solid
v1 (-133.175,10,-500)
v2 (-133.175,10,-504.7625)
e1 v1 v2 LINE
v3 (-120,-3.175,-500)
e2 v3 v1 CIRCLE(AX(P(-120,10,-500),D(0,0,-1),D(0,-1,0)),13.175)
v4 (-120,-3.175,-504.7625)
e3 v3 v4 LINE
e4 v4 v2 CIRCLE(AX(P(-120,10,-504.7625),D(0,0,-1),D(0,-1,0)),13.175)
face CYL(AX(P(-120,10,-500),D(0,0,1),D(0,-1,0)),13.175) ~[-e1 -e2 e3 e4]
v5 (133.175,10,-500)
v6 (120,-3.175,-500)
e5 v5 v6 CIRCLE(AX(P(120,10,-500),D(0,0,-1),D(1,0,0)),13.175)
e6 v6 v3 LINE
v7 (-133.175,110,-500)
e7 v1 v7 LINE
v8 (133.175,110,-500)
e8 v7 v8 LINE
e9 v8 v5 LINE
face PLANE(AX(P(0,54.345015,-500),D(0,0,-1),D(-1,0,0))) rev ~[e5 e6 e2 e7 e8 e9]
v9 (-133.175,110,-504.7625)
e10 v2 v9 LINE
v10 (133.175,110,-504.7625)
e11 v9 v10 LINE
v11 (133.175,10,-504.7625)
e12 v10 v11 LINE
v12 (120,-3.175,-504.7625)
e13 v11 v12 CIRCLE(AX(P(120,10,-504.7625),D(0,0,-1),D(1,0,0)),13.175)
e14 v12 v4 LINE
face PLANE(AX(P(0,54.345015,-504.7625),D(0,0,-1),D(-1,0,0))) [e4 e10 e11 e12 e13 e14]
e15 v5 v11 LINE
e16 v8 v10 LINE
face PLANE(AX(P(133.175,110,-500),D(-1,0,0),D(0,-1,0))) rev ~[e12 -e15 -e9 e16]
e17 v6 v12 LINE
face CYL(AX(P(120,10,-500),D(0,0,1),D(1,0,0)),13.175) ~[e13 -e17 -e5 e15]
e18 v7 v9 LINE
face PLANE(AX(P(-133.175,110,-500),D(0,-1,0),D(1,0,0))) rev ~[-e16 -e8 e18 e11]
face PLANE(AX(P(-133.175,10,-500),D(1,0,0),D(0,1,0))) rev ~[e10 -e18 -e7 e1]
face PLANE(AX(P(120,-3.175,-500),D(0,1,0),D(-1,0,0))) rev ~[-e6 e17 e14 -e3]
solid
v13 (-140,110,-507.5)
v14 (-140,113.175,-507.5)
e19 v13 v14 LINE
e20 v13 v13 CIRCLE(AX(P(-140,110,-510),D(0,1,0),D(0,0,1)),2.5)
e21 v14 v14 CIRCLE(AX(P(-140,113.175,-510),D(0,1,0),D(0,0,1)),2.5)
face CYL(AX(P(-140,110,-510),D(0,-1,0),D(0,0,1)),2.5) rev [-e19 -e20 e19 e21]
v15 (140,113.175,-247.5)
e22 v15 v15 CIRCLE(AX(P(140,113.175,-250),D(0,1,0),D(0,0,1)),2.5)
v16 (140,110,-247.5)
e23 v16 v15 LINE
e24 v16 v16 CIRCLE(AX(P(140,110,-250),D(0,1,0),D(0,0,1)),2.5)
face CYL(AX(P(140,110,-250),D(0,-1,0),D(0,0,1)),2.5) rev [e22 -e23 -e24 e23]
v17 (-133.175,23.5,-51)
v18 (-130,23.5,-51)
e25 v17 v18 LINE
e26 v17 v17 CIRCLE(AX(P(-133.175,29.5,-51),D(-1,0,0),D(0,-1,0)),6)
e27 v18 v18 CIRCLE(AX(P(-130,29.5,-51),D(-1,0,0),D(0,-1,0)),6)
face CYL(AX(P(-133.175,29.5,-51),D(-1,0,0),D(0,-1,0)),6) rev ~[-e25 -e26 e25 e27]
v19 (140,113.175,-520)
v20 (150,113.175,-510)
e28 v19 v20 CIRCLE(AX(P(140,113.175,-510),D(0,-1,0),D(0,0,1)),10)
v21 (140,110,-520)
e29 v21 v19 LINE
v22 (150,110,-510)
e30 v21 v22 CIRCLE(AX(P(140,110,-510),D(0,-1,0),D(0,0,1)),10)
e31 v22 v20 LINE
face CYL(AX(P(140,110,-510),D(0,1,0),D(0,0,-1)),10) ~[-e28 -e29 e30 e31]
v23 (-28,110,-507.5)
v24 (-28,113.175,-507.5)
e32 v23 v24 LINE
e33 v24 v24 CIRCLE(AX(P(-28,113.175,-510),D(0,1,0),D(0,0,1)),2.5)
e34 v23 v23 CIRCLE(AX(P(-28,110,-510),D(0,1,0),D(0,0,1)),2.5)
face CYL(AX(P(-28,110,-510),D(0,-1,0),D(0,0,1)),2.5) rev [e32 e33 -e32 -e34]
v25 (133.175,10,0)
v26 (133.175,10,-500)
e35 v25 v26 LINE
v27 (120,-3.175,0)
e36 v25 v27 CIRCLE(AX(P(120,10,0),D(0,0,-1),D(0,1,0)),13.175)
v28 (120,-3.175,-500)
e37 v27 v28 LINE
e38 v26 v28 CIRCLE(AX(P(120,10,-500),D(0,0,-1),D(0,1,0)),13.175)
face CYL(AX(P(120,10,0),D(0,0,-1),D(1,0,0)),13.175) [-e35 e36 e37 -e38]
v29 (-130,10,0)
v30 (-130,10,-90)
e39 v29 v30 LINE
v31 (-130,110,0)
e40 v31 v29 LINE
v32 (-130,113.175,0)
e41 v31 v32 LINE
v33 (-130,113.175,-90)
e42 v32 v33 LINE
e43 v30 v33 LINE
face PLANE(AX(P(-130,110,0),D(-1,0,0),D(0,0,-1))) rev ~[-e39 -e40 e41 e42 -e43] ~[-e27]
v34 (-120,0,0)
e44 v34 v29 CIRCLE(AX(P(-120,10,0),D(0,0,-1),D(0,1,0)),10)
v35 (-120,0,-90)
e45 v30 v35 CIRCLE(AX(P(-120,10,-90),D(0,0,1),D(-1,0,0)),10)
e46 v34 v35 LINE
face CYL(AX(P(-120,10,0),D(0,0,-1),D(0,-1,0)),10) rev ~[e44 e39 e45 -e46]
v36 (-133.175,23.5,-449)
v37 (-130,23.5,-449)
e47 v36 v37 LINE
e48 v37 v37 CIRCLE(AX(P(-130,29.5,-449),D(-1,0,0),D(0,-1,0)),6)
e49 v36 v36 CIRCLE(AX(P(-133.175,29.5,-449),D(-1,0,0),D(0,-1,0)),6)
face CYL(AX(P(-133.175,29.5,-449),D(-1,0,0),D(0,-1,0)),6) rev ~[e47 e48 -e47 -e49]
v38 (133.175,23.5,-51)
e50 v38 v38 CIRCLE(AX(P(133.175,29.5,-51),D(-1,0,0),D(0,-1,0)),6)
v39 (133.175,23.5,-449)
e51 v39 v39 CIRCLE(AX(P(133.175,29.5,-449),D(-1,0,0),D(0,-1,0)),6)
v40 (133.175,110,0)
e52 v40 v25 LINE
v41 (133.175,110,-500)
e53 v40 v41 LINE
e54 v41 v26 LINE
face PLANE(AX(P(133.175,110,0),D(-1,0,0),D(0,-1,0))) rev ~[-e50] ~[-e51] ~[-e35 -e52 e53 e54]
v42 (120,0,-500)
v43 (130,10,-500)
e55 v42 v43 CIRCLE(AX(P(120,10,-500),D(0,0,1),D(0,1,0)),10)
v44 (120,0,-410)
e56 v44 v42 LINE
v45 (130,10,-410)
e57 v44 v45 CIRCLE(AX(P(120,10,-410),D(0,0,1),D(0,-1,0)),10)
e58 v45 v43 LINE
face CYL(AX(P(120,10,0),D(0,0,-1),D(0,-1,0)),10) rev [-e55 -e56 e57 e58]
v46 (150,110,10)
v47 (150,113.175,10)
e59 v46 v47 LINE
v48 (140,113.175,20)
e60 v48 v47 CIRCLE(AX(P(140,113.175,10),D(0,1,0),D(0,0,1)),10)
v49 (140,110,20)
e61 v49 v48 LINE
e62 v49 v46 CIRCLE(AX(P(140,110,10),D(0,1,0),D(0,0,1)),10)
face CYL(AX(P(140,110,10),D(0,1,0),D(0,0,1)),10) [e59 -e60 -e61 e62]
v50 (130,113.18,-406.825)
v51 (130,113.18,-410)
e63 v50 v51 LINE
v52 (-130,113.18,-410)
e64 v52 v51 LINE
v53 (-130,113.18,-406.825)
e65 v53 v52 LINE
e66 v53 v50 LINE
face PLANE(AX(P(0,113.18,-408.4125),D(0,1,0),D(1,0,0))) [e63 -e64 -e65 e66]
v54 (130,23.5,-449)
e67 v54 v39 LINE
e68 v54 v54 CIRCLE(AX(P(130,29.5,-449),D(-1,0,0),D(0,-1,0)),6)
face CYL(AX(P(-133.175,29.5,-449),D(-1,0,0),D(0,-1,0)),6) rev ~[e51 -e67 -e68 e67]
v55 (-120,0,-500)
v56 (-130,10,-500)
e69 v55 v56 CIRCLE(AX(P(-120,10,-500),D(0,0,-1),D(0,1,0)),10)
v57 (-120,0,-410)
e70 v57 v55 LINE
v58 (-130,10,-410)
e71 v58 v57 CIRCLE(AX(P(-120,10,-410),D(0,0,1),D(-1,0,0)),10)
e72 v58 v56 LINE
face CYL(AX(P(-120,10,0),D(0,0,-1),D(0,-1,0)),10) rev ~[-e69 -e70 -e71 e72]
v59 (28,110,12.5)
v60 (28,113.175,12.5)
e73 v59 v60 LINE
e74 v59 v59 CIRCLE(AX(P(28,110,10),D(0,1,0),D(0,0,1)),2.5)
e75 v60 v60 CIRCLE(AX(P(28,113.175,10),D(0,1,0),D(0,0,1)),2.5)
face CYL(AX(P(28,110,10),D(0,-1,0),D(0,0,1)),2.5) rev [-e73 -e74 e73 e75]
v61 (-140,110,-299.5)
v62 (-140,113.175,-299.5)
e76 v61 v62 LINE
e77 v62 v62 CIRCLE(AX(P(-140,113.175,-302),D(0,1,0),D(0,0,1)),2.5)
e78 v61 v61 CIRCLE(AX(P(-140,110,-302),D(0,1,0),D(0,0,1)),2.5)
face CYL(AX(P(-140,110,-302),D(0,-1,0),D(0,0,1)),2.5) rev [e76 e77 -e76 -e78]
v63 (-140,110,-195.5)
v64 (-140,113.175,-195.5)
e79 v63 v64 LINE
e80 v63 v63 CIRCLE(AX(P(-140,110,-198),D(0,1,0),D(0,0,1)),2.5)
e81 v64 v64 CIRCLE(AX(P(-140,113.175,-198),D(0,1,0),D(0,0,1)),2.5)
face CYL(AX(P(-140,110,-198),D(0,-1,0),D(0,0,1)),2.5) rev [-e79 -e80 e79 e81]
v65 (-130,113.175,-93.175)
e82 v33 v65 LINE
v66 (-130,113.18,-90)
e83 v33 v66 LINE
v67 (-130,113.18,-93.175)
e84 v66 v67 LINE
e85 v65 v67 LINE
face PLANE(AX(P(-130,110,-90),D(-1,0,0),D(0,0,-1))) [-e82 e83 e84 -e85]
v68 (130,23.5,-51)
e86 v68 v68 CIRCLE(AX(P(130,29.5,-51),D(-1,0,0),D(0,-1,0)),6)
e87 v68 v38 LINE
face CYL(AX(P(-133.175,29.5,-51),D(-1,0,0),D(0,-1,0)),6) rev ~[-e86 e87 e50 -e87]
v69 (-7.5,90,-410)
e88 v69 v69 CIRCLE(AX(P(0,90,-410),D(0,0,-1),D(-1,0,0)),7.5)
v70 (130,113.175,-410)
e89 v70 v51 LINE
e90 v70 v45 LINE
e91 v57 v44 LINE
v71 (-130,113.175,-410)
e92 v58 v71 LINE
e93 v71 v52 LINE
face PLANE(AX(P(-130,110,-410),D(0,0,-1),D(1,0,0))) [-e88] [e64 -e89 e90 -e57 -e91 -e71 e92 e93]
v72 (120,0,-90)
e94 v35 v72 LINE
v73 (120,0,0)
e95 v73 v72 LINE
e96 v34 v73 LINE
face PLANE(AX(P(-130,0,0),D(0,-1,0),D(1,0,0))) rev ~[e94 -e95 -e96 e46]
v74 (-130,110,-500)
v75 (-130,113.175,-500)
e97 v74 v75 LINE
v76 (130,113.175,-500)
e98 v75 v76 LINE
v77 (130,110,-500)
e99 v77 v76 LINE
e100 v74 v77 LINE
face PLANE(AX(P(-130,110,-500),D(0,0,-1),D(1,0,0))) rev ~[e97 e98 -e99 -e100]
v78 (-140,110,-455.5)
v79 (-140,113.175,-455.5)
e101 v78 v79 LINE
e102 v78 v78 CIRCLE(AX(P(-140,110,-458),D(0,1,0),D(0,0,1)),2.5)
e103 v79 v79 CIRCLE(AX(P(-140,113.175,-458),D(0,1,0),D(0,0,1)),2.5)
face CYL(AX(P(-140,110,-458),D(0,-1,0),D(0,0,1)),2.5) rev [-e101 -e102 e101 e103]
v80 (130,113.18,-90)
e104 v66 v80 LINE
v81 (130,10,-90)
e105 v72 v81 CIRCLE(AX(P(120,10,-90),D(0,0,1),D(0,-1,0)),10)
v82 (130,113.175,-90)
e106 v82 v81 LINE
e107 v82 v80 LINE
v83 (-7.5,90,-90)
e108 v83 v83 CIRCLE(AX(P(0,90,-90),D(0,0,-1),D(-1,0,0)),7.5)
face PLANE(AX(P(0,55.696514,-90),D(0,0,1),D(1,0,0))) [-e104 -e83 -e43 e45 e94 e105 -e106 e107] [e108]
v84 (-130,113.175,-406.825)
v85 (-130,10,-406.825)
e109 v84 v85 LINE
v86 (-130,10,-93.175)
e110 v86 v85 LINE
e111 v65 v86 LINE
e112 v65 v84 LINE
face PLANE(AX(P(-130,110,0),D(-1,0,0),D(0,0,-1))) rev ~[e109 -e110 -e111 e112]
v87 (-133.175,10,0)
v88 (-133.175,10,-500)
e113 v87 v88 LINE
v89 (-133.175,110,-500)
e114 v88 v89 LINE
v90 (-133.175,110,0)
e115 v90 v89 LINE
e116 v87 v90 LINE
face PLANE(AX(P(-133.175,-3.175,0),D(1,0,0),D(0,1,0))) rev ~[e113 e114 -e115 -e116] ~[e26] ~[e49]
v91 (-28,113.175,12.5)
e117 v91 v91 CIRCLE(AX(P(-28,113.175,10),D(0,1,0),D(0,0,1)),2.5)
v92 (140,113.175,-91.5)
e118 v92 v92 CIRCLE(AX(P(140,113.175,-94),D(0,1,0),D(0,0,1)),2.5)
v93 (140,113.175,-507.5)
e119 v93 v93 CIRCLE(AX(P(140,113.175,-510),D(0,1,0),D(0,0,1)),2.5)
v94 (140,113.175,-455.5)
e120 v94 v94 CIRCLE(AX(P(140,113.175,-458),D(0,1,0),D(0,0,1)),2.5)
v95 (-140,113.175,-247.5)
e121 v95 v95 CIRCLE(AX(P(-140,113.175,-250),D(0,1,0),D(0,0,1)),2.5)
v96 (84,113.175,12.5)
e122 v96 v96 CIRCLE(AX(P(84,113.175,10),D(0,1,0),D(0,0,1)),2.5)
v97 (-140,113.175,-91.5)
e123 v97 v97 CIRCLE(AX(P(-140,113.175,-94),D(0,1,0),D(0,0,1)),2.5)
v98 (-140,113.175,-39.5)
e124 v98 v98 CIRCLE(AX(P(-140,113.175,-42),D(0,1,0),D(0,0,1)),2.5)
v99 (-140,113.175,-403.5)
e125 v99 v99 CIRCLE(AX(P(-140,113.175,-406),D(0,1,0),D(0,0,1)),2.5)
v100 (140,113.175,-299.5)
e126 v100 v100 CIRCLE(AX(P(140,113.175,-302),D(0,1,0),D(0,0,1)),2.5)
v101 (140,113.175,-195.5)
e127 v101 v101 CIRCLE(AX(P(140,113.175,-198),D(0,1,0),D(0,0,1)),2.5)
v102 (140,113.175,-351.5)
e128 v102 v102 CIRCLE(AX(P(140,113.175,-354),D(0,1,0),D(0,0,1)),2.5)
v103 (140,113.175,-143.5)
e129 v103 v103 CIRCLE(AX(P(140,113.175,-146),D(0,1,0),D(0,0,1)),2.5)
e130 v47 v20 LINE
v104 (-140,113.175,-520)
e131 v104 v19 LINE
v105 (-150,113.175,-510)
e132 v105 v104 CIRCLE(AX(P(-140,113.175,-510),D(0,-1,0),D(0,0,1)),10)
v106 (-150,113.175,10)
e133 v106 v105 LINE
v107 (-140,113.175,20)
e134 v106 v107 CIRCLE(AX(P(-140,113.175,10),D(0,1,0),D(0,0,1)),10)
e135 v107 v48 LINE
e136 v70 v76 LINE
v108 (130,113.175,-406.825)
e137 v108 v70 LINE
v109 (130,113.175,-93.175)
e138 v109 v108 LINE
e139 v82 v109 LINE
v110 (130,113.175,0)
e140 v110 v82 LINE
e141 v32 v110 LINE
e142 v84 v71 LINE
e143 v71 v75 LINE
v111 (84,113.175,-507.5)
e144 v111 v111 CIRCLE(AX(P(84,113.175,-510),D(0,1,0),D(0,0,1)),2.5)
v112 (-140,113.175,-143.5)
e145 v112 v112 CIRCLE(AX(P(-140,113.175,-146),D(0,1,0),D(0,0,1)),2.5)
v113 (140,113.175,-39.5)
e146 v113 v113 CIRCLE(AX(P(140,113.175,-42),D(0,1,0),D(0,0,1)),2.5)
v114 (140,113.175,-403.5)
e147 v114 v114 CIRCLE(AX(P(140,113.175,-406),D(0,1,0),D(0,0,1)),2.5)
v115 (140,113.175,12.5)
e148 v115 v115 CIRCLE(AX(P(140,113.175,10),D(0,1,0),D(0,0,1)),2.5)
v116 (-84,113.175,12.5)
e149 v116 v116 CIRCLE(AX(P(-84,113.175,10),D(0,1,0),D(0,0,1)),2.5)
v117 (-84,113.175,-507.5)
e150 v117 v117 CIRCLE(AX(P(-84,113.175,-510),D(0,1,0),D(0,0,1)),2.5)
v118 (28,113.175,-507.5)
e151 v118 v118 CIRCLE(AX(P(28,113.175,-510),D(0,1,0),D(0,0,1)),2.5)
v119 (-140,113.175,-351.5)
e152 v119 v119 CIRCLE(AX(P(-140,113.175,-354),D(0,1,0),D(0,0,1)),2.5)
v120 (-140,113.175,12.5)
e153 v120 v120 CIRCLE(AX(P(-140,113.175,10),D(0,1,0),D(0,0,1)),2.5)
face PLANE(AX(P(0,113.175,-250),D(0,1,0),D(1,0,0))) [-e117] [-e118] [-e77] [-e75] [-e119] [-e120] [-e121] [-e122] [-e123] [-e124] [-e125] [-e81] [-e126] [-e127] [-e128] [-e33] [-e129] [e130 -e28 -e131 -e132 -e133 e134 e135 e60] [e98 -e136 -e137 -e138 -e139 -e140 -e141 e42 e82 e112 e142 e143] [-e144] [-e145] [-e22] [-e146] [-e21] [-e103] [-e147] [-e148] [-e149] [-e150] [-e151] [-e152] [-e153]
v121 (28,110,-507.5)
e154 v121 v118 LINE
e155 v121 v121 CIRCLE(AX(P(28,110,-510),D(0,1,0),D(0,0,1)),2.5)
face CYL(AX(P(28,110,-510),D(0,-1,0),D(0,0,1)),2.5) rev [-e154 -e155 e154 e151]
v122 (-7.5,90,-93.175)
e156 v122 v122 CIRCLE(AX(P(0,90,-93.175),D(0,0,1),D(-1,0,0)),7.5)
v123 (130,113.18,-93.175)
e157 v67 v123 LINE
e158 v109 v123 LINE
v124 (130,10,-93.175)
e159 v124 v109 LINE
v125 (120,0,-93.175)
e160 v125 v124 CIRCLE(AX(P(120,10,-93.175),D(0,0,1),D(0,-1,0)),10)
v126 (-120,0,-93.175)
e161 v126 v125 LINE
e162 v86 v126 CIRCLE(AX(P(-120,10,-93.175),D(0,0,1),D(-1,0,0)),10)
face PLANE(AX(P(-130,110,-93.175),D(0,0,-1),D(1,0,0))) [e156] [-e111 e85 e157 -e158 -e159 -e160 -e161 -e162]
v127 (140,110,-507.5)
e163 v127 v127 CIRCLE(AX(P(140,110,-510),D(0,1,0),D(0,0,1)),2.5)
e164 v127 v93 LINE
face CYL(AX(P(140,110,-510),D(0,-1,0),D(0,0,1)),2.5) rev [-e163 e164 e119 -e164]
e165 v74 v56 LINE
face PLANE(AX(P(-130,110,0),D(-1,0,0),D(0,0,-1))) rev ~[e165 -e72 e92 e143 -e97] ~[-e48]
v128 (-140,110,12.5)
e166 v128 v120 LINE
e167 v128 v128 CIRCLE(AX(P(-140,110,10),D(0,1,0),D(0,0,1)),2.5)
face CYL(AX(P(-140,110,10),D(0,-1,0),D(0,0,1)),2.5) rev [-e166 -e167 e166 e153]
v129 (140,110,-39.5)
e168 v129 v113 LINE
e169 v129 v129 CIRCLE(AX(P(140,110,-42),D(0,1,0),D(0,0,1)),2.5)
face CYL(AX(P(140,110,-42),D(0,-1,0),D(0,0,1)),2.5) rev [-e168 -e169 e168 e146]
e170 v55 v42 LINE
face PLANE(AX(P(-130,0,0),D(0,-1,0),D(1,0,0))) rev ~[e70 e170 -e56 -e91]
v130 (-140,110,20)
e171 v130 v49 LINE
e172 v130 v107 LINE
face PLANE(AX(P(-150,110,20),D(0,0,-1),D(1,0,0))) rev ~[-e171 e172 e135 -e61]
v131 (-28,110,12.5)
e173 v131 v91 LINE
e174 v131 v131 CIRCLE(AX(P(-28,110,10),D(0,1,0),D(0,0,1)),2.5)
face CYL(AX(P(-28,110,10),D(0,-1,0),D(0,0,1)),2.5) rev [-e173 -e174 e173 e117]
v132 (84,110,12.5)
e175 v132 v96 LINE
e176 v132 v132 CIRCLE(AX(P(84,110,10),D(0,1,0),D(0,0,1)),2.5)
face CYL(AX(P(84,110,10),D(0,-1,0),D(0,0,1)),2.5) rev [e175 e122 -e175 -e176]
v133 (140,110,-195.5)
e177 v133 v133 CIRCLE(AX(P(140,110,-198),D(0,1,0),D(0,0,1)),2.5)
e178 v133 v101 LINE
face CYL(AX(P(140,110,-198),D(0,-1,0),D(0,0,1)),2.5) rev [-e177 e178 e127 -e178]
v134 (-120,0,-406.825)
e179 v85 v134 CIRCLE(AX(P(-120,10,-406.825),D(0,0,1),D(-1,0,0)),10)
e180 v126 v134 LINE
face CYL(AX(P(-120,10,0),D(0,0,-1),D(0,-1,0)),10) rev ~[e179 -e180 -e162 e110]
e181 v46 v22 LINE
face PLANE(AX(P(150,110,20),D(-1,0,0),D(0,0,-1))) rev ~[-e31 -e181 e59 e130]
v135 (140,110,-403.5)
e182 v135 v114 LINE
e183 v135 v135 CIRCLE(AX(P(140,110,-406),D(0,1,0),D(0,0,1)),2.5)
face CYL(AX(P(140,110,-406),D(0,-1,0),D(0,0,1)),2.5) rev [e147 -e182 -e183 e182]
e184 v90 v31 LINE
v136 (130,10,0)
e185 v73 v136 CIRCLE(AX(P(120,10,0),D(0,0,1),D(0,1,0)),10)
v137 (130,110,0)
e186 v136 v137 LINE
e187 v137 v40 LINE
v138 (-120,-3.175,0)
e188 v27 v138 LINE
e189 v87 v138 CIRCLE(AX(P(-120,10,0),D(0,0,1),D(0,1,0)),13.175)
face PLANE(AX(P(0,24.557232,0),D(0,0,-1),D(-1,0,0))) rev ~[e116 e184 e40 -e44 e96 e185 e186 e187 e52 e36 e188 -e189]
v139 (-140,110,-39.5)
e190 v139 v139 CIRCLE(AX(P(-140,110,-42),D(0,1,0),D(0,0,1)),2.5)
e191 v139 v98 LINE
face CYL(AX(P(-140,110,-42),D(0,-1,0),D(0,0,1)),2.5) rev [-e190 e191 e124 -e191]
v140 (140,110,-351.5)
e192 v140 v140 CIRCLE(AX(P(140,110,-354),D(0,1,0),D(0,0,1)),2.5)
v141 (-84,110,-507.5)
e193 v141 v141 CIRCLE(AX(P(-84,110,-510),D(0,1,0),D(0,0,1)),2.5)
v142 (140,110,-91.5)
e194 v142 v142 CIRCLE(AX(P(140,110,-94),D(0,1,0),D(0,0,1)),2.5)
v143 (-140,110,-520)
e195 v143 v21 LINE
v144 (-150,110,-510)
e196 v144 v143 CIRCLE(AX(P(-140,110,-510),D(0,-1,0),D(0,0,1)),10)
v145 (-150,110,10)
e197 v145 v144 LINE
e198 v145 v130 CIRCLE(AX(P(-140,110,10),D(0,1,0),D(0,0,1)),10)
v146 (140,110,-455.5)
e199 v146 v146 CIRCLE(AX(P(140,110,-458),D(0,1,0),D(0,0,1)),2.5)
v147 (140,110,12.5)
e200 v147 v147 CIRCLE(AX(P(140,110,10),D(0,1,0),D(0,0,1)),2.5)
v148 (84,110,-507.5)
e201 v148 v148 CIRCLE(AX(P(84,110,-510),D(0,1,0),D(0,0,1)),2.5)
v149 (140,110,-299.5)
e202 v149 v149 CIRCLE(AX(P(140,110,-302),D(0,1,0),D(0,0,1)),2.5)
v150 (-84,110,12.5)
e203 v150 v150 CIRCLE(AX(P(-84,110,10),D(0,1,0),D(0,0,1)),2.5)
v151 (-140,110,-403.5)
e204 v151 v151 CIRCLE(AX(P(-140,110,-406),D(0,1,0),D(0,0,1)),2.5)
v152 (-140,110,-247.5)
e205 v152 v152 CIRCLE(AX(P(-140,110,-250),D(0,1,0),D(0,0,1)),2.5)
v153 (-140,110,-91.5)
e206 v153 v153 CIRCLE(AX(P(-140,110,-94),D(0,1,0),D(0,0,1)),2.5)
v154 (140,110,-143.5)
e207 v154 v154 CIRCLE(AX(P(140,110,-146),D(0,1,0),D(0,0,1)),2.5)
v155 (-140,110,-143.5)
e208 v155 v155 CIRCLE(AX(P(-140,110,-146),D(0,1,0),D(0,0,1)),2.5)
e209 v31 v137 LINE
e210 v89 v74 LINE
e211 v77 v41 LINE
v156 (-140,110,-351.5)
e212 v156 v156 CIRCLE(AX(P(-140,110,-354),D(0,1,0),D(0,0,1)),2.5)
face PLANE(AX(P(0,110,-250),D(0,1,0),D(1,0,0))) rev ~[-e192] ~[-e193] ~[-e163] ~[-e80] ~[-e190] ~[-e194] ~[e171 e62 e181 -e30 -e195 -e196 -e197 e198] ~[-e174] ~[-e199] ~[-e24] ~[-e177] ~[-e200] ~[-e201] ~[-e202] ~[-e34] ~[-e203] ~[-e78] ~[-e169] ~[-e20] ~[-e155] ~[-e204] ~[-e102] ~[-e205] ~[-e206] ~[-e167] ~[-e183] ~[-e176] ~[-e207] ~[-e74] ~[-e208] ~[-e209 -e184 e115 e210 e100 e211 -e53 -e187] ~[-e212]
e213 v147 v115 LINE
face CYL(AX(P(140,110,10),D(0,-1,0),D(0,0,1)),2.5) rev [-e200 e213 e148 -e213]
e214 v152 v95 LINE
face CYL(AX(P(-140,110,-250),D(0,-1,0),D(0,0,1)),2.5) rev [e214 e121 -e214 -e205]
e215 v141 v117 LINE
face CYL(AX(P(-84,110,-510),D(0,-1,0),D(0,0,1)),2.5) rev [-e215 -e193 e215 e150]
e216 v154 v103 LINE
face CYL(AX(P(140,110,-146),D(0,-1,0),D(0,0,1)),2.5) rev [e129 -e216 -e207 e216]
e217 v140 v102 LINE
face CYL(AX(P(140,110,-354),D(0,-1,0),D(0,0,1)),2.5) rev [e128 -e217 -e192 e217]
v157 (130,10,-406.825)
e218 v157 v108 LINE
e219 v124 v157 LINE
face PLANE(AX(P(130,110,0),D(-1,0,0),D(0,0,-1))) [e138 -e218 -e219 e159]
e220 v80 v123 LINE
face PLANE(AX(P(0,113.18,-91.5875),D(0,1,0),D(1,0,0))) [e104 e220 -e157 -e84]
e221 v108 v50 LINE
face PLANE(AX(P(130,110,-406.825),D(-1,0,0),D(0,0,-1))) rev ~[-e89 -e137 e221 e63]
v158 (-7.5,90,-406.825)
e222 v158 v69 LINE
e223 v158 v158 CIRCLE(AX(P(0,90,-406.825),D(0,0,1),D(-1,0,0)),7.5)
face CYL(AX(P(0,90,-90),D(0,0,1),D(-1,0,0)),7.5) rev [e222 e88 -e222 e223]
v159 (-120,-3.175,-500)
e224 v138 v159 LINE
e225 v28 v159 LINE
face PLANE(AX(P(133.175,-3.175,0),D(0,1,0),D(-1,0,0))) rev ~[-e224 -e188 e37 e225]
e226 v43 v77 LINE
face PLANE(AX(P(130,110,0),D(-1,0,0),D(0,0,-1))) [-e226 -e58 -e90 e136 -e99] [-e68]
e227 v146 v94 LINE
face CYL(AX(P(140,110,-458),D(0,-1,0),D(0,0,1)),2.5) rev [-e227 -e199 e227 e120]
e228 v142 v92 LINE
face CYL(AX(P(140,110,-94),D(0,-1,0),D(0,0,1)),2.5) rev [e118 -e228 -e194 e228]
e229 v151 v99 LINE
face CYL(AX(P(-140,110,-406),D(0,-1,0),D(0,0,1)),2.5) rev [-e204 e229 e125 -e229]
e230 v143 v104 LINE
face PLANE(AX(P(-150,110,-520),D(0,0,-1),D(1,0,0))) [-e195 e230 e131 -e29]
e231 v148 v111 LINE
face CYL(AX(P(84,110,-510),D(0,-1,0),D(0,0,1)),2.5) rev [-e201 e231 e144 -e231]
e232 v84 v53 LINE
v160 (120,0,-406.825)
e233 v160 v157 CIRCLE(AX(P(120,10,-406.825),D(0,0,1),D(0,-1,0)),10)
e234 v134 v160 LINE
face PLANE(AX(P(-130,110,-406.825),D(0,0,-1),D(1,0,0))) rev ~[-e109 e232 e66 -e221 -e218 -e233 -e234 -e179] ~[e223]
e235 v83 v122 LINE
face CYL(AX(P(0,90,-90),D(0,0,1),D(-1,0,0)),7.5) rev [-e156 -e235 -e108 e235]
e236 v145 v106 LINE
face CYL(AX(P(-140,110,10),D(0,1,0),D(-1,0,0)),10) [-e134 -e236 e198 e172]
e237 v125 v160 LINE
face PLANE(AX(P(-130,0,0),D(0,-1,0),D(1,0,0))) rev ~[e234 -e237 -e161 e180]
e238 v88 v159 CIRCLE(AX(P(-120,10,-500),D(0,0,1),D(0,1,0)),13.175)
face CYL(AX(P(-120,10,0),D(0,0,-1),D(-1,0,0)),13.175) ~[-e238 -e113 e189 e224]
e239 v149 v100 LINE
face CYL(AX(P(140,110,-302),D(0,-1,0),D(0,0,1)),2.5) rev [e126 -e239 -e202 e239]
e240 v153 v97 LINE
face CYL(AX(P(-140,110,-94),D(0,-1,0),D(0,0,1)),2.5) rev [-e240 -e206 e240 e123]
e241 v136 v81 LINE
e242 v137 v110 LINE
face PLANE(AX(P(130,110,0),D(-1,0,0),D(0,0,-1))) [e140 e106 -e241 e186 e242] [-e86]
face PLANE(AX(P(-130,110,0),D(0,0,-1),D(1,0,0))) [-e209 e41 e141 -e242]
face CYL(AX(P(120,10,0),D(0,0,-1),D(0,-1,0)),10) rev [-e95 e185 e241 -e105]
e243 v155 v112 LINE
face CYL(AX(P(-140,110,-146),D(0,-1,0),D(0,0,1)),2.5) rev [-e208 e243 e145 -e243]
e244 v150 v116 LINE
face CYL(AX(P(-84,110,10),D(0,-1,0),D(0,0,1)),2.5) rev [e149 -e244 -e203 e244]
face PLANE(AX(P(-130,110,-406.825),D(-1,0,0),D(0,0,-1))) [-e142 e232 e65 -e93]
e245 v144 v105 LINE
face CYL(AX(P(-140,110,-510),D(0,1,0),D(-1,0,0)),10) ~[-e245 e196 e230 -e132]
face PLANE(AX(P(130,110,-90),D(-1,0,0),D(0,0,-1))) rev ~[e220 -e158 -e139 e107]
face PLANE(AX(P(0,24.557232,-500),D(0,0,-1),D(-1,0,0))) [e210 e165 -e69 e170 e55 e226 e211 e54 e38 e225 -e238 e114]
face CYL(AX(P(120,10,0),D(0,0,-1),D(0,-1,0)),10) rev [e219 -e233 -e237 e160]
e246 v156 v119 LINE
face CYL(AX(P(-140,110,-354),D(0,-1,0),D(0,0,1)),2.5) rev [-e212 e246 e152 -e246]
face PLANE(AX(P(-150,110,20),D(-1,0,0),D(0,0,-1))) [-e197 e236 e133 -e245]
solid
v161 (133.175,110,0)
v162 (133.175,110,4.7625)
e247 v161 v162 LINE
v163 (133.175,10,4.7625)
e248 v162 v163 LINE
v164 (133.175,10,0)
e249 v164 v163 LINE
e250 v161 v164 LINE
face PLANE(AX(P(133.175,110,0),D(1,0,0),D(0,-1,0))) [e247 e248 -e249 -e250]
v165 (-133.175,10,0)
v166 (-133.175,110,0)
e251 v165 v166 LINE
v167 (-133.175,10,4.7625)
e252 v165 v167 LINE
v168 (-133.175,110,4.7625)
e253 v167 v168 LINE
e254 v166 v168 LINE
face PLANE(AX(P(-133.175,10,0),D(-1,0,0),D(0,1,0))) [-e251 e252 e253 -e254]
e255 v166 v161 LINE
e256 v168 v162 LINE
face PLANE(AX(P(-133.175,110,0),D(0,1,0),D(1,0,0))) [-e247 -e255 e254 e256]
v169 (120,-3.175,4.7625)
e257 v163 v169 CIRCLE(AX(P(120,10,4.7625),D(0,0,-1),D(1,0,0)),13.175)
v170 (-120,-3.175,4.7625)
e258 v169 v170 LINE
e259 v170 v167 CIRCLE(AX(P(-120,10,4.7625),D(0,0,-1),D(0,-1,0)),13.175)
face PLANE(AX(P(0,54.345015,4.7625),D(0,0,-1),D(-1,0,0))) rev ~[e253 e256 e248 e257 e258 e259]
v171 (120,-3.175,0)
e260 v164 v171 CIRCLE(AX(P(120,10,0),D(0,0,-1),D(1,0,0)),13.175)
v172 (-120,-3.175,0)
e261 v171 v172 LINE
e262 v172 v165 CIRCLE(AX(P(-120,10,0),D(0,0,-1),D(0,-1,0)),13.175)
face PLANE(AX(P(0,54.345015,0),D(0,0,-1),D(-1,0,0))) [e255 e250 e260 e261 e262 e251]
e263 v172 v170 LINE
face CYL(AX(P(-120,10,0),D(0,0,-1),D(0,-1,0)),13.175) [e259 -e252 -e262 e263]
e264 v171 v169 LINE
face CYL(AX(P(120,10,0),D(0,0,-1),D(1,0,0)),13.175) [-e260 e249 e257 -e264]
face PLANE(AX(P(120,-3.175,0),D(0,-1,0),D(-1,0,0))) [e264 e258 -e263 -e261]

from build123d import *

# Parameters (mm, degrees)
INTERIOR_DIM_DEPTH      = 500
FILLET2_R               = 10
FILLET3_R               = 13.175
ENDCAP1_DEPTH           = 4.7625
COMPARTMENT1_BOSS_DEPTH = 3.175
SKETCH9_W               = 300
SKETCH9_H               = 540
SKETCH9_W_2             = 260
SKETCH9_H_2             = 500
LID_FLANGE_DEPTH        = 3.175
FILLET4_R               = 10
ENDCAP2_DEPTH           = 4.7625
COMPARTMENT2_BOSS_DEPTH = 3.175
SKETCH16_R              = 6
BEARING_HOLES_DEPTH     = 603.823905672
WIRE_PASSTHROUGH_START  = -320
SKETCH17_R              = 7.5
WIRE_PASSTHROUGH_DEPTH  = 320
SKETCH18_W              = 260
SKETCH18_H              = 3.175
BOSS_EXTRUDE1_DEPTH     = 3.18
SKETCH20_R              = 2.5
BOLT_HOLES_DEPTH        = 3.175


with BuildPart() as part:
    # Sketch2 → Interior Dim (new body)
    with BuildSketch(Plane.XY):
        Polygon((-130, 0), (130, 0), (130, 110), (133.175, 110), (133.175, -3.175), (-133.175, -3.175), (-133.175, 110), (-130, 110), align=None)
    extrude(amount=-INTERIOR_DIM_DEPTH)

    # Fillet2
    fillet2_edges = [part.edges().sort_by_distance(p)[0] for p in [
        (-130, 0, -250),
        (130, 0, -250),
    ]]
    fillet(fillet2_edges, radius=FILLET2_R)

    # Fillet3
    fillet3_edges = [part.edges().sort_by_distance(p)[0] for p in [
        (-133.175, -3.175, -250),
        (133.175, -3.175, -250),
    ]]
    fillet(fillet3_edges, radius=FILLET3_R)



with BuildPart() as body_2:
    # Sketch4 → Endcap1 (new body)
    with BuildSketch(Plane.XY):
        with BuildLine():
            Line((-130, 110), (130, 110))
            Line((130, 110), (133.175, 110))
            Line((133.175, 110), (133.175, 10))
            ThreePointArc((133.175, 10), (129.316131842, 0.683868158), (120, -3.175))
            Line((120, -3.175), (-120, -3.175))
            ThreePointArc((-120, -3.175), (-129.316131842, 0.683868158), (-133.175, 10))
            Line((-133.175, 10), (-133.175, 110))
            Line((-133.175, 110), (-130, 110))
        make_face()
    extrude(amount=ENDCAP1_DEPTH)


with BuildPart() as body_3:
    # Sketch7 → Compartment1_Boss (new body)
    with BuildSketch(Plane(origin=(0, 0, -90), x_dir=(-1, 0, 0), z_dir=(0, 0, -1))):
        with BuildLine():
            Line((120, 0), (-120, 0))
            ThreePointArc((-120, 0), (-127.071067812, 2.928932188), (-130, 10))
            Line((-130, 10), (-130, 110))
            Line((-130, 110), (130, 110))
            Line((130, 110), (130, 10))
            ThreePointArc((130, 10), (127.071067812, 2.928932188), (120, 0))
        make_face()
    extrude(amount=COMPARTMENT1_BOSS_DEPTH)


with BuildPart() as body_4:
    # Sketch9 → Lid_Flange (new body)
    with BuildSketch(Plane(origin=(0, 110, 0), x_dir=(1, 0, 0), z_dir=(0, 1, 0))):
        with Locations((0, 250)):
            Rectangle(SKETCH9_W, SKETCH9_H)
        with Locations((0, 250)):
            Rectangle(SKETCH9_W_2, SKETCH9_H_2, mode=Mode.SUBTRACT)
    extrude(amount=LID_FLANGE_DEPTH)

    # Fillet4
    fillet4_edges = [body_4.edges().sort_by_distance(p)[0] for p in [
        (150, 111.5875, -520),
        (150, 111.5875, 20),
        (-150, 111.5875, 20),
        (-150, 111.5875, -520),
    ]]
    fillet(fillet4_edges, radius=FILLET4_R)


with BuildPart() as body_5:
    # Sketch5 → Endcap2 (new body)
    with BuildSketch(Plane(origin=(0, 0, -500), x_dir=(-1, 0, 0), z_dir=(0, 0, -1))):
        with BuildLine():
            Line((133.175, 110), (-133.175, 110))
            Line((-133.175, 110), (-133.175, 10))
            ThreePointArc((-133.175, 10), (-129.316131842, 0.683868158), (-120, -3.175))
            Line((-120, -3.175), (120, -3.175))
            ThreePointArc((120, -3.175), (129.316131842, 0.683868158), (133.175, 10))
            Line((133.175, 10), (133.175, 110))
        make_face()
    extrude(amount=ENDCAP2_DEPTH)


with BuildPart() as part_1:
    add(part.part)

    add(body_4.part)  # Compartment2_Boss merges body 4
    # Sketch13 → Compartment2_Boss (add)
    with BuildSketch(Plane.XY.offset(-410)):
        with BuildLine():
            Line((130, 110), (-130, 110))
            Line((-130, 110), (-130, 10))
            ThreePointArc((-130, 10), (-127.071067812, 2.928932188), (-120, 0))
            Line((-120, 0), (120, 0))
            ThreePointArc((120, 0), (127.071067812, 2.928932188), (130, 10))
            Line((130, 10), (130, 110))
        make_face()
    extrude(amount=COMPARTMENT2_BOSS_DEPTH)

    # Sketch16 → Bearing_holes (cut, through all)
    with BuildSketch(Plane.ZY.offset(133.175)):
        with Locations(Location((-449, 29.5, 0), (0, 0, 270))):
            Circle(SKETCH16_R)
        with Locations(Location((-51, 29.5, 0), (0, 0, 270))):
            Circle(SKETCH16_R)
    extrude(amount=-BEARING_HOLES_DEPTH, mode=Mode.SUBTRACT)


with BuildPart() as wire_passthrough_tool:
    # Sketch17 → Wire_Passthrough (new body)
    with BuildSketch(Plane(origin=(0, 0, -410), x_dir=(-1, 0, 0), z_dir=(0, 0, -1)).offset(WIRE_PASSTHROUGH_START)):
        with Locations((0, 90)):
            Circle(SKETCH17_R)
    extrude(amount=WIRE_PASSTHROUGH_DEPTH)


with BuildPart() as part_2:
    add(part_1.part)

    # Wire_Passthrough: cut by wire_passthrough_tool
    add(wire_passthrough_tool.part, mode=Mode.SUBTRACT)



with BuildPart() as body_3_1:
    add(body_3.part)

    # Wire_Passthrough: cut by wire_passthrough_tool
    add(wire_passthrough_tool.part, mode=Mode.SUBTRACT)


with BuildPart() as part_3:
    add(part_2.part)

    add(body_3_1.part)  # Boss-Extrude1 merges body 3
    # Sketch18 → Boss-Extrude1 (add)
    with BuildSketch(Plane(origin=(0, 110, 0), x_dir=(1, 0, 0), z_dir=(0, 1, 0))):
        with Locations((0, 408.4125)):
            Rectangle(SKETCH18_W, SKETCH18_H)
        with Locations((0, 91.5875)):
            Rectangle(SKETCH18_W, SKETCH18_H)
    extrude(amount=BOSS_EXTRUDE1_DEPTH)

    # Sketch20 → Bolt_Holes (cut)
    with BuildSketch(Plane(origin=(0, 110, 175), x_dir=(1, 0, 0), z_dir=(0, 1, 0))):
        with Locations(Location((-140, 165, 0), (0, 0, 270))):
            Circle(SKETCH20_R)
        with Locations(Location((-140, 217, 0), (0, 0, 270))):
            Circle(SKETCH20_R)
        with Locations(Location((-140, 269, 0), (0, 0, 270))):
            Circle(SKETCH20_R)
        with Locations(Location((-140, 321, 0), (0, 0, 270))):
            Circle(SKETCH20_R)
        with Locations(Location((-140, 373, 0), (0, 0, 270))):
            Circle(SKETCH20_R)
        with Locations(Location((-140, 425, 0), (0, 0, 270))):
            Circle(SKETCH20_R)
        with Locations(Location((-140, 477, 0), (0, 0, 270))):
            Circle(SKETCH20_R)
        with Locations(Location((-140, 529, 0), (0, 0, 270))):
            Circle(SKETCH20_R)
        with Locations(Location((-140, 581, 0), (0, 0, 270))):
            Circle(SKETCH20_R)
        with Locations(Location((-140, 633, 0), (0, 0, 270))):
            Circle(SKETCH20_R)
        with Locations(Location((-140, 685, 0), (0, 0, 270))):
            Circle(SKETCH20_R)
        with Locations(Location((-84, 685, 0), (0, 0, 270))):
            Circle(SKETCH20_R)
        with Locations(Location((-28, 685, 0), (0, 0, 270))):
            Circle(SKETCH20_R)
        with Locations(Location((28, 685, 0), (0, 0, 270))):
            Circle(SKETCH20_R)
        with Locations(Location((84, 685, 0), (0, 0, 270))):
            Circle(SKETCH20_R)
        with Locations(Location((140, 685, 0), (0, 0, 270))):
            Circle(SKETCH20_R)
        with Locations(Location((140, 633, 0), (0, 0, 270))):
            Circle(SKETCH20_R)
        with Locations(Location((140, 581, 0), (0, 0, 270))):
            Circle(SKETCH20_R)
        with Locations(Location((140, 529, 0), (0, 0, 270))):
            Circle(SKETCH20_R)
        with Locations(Location((140, 477, 0), (0, 0, 270))):
            Circle(SKETCH20_R)
        with Locations(Location((140, 425, 0), (0, 0, 270))):
            Circle(SKETCH20_R)
        with Locations(Location((140, 373, 0), (0, 0, 270))):
            Circle(SKETCH20_R)
        with Locations(Location((140, 321, 0), (0, 0, 270))):
            Circle(SKETCH20_R)
        with Locations(Location((140, 269, 0), (0, 0, 270))):
            Circle(SKETCH20_R)
        with Locations(Location((140, 217, 0), (0, 0, 270))):
            Circle(SKETCH20_R)
        with Locations(Location((140, 165, 0), (0, 0, 270))):
            Circle(SKETCH20_R)
        with Locations(Location((84, 165, 0), (0, 0, 270))):
            Circle(SKETCH20_R)
        with Locations(Location((28, 165, 0), (0, 0, 270))):
            Circle(SKETCH20_R)
        with Locations(Location((-28, 165, 0), (0, 0, 270))):
            Circle(SKETCH20_R)
        with Locations(Location((-84, 165, 0), (0, 0, 270))):
            Circle(SKETCH20_R)
    extrude(amount=BOLT_HOLES_DEPTH, mode=Mode.SUBTRACT)


solid = Compound([body_2.part, body_5.part, part_3.part])
